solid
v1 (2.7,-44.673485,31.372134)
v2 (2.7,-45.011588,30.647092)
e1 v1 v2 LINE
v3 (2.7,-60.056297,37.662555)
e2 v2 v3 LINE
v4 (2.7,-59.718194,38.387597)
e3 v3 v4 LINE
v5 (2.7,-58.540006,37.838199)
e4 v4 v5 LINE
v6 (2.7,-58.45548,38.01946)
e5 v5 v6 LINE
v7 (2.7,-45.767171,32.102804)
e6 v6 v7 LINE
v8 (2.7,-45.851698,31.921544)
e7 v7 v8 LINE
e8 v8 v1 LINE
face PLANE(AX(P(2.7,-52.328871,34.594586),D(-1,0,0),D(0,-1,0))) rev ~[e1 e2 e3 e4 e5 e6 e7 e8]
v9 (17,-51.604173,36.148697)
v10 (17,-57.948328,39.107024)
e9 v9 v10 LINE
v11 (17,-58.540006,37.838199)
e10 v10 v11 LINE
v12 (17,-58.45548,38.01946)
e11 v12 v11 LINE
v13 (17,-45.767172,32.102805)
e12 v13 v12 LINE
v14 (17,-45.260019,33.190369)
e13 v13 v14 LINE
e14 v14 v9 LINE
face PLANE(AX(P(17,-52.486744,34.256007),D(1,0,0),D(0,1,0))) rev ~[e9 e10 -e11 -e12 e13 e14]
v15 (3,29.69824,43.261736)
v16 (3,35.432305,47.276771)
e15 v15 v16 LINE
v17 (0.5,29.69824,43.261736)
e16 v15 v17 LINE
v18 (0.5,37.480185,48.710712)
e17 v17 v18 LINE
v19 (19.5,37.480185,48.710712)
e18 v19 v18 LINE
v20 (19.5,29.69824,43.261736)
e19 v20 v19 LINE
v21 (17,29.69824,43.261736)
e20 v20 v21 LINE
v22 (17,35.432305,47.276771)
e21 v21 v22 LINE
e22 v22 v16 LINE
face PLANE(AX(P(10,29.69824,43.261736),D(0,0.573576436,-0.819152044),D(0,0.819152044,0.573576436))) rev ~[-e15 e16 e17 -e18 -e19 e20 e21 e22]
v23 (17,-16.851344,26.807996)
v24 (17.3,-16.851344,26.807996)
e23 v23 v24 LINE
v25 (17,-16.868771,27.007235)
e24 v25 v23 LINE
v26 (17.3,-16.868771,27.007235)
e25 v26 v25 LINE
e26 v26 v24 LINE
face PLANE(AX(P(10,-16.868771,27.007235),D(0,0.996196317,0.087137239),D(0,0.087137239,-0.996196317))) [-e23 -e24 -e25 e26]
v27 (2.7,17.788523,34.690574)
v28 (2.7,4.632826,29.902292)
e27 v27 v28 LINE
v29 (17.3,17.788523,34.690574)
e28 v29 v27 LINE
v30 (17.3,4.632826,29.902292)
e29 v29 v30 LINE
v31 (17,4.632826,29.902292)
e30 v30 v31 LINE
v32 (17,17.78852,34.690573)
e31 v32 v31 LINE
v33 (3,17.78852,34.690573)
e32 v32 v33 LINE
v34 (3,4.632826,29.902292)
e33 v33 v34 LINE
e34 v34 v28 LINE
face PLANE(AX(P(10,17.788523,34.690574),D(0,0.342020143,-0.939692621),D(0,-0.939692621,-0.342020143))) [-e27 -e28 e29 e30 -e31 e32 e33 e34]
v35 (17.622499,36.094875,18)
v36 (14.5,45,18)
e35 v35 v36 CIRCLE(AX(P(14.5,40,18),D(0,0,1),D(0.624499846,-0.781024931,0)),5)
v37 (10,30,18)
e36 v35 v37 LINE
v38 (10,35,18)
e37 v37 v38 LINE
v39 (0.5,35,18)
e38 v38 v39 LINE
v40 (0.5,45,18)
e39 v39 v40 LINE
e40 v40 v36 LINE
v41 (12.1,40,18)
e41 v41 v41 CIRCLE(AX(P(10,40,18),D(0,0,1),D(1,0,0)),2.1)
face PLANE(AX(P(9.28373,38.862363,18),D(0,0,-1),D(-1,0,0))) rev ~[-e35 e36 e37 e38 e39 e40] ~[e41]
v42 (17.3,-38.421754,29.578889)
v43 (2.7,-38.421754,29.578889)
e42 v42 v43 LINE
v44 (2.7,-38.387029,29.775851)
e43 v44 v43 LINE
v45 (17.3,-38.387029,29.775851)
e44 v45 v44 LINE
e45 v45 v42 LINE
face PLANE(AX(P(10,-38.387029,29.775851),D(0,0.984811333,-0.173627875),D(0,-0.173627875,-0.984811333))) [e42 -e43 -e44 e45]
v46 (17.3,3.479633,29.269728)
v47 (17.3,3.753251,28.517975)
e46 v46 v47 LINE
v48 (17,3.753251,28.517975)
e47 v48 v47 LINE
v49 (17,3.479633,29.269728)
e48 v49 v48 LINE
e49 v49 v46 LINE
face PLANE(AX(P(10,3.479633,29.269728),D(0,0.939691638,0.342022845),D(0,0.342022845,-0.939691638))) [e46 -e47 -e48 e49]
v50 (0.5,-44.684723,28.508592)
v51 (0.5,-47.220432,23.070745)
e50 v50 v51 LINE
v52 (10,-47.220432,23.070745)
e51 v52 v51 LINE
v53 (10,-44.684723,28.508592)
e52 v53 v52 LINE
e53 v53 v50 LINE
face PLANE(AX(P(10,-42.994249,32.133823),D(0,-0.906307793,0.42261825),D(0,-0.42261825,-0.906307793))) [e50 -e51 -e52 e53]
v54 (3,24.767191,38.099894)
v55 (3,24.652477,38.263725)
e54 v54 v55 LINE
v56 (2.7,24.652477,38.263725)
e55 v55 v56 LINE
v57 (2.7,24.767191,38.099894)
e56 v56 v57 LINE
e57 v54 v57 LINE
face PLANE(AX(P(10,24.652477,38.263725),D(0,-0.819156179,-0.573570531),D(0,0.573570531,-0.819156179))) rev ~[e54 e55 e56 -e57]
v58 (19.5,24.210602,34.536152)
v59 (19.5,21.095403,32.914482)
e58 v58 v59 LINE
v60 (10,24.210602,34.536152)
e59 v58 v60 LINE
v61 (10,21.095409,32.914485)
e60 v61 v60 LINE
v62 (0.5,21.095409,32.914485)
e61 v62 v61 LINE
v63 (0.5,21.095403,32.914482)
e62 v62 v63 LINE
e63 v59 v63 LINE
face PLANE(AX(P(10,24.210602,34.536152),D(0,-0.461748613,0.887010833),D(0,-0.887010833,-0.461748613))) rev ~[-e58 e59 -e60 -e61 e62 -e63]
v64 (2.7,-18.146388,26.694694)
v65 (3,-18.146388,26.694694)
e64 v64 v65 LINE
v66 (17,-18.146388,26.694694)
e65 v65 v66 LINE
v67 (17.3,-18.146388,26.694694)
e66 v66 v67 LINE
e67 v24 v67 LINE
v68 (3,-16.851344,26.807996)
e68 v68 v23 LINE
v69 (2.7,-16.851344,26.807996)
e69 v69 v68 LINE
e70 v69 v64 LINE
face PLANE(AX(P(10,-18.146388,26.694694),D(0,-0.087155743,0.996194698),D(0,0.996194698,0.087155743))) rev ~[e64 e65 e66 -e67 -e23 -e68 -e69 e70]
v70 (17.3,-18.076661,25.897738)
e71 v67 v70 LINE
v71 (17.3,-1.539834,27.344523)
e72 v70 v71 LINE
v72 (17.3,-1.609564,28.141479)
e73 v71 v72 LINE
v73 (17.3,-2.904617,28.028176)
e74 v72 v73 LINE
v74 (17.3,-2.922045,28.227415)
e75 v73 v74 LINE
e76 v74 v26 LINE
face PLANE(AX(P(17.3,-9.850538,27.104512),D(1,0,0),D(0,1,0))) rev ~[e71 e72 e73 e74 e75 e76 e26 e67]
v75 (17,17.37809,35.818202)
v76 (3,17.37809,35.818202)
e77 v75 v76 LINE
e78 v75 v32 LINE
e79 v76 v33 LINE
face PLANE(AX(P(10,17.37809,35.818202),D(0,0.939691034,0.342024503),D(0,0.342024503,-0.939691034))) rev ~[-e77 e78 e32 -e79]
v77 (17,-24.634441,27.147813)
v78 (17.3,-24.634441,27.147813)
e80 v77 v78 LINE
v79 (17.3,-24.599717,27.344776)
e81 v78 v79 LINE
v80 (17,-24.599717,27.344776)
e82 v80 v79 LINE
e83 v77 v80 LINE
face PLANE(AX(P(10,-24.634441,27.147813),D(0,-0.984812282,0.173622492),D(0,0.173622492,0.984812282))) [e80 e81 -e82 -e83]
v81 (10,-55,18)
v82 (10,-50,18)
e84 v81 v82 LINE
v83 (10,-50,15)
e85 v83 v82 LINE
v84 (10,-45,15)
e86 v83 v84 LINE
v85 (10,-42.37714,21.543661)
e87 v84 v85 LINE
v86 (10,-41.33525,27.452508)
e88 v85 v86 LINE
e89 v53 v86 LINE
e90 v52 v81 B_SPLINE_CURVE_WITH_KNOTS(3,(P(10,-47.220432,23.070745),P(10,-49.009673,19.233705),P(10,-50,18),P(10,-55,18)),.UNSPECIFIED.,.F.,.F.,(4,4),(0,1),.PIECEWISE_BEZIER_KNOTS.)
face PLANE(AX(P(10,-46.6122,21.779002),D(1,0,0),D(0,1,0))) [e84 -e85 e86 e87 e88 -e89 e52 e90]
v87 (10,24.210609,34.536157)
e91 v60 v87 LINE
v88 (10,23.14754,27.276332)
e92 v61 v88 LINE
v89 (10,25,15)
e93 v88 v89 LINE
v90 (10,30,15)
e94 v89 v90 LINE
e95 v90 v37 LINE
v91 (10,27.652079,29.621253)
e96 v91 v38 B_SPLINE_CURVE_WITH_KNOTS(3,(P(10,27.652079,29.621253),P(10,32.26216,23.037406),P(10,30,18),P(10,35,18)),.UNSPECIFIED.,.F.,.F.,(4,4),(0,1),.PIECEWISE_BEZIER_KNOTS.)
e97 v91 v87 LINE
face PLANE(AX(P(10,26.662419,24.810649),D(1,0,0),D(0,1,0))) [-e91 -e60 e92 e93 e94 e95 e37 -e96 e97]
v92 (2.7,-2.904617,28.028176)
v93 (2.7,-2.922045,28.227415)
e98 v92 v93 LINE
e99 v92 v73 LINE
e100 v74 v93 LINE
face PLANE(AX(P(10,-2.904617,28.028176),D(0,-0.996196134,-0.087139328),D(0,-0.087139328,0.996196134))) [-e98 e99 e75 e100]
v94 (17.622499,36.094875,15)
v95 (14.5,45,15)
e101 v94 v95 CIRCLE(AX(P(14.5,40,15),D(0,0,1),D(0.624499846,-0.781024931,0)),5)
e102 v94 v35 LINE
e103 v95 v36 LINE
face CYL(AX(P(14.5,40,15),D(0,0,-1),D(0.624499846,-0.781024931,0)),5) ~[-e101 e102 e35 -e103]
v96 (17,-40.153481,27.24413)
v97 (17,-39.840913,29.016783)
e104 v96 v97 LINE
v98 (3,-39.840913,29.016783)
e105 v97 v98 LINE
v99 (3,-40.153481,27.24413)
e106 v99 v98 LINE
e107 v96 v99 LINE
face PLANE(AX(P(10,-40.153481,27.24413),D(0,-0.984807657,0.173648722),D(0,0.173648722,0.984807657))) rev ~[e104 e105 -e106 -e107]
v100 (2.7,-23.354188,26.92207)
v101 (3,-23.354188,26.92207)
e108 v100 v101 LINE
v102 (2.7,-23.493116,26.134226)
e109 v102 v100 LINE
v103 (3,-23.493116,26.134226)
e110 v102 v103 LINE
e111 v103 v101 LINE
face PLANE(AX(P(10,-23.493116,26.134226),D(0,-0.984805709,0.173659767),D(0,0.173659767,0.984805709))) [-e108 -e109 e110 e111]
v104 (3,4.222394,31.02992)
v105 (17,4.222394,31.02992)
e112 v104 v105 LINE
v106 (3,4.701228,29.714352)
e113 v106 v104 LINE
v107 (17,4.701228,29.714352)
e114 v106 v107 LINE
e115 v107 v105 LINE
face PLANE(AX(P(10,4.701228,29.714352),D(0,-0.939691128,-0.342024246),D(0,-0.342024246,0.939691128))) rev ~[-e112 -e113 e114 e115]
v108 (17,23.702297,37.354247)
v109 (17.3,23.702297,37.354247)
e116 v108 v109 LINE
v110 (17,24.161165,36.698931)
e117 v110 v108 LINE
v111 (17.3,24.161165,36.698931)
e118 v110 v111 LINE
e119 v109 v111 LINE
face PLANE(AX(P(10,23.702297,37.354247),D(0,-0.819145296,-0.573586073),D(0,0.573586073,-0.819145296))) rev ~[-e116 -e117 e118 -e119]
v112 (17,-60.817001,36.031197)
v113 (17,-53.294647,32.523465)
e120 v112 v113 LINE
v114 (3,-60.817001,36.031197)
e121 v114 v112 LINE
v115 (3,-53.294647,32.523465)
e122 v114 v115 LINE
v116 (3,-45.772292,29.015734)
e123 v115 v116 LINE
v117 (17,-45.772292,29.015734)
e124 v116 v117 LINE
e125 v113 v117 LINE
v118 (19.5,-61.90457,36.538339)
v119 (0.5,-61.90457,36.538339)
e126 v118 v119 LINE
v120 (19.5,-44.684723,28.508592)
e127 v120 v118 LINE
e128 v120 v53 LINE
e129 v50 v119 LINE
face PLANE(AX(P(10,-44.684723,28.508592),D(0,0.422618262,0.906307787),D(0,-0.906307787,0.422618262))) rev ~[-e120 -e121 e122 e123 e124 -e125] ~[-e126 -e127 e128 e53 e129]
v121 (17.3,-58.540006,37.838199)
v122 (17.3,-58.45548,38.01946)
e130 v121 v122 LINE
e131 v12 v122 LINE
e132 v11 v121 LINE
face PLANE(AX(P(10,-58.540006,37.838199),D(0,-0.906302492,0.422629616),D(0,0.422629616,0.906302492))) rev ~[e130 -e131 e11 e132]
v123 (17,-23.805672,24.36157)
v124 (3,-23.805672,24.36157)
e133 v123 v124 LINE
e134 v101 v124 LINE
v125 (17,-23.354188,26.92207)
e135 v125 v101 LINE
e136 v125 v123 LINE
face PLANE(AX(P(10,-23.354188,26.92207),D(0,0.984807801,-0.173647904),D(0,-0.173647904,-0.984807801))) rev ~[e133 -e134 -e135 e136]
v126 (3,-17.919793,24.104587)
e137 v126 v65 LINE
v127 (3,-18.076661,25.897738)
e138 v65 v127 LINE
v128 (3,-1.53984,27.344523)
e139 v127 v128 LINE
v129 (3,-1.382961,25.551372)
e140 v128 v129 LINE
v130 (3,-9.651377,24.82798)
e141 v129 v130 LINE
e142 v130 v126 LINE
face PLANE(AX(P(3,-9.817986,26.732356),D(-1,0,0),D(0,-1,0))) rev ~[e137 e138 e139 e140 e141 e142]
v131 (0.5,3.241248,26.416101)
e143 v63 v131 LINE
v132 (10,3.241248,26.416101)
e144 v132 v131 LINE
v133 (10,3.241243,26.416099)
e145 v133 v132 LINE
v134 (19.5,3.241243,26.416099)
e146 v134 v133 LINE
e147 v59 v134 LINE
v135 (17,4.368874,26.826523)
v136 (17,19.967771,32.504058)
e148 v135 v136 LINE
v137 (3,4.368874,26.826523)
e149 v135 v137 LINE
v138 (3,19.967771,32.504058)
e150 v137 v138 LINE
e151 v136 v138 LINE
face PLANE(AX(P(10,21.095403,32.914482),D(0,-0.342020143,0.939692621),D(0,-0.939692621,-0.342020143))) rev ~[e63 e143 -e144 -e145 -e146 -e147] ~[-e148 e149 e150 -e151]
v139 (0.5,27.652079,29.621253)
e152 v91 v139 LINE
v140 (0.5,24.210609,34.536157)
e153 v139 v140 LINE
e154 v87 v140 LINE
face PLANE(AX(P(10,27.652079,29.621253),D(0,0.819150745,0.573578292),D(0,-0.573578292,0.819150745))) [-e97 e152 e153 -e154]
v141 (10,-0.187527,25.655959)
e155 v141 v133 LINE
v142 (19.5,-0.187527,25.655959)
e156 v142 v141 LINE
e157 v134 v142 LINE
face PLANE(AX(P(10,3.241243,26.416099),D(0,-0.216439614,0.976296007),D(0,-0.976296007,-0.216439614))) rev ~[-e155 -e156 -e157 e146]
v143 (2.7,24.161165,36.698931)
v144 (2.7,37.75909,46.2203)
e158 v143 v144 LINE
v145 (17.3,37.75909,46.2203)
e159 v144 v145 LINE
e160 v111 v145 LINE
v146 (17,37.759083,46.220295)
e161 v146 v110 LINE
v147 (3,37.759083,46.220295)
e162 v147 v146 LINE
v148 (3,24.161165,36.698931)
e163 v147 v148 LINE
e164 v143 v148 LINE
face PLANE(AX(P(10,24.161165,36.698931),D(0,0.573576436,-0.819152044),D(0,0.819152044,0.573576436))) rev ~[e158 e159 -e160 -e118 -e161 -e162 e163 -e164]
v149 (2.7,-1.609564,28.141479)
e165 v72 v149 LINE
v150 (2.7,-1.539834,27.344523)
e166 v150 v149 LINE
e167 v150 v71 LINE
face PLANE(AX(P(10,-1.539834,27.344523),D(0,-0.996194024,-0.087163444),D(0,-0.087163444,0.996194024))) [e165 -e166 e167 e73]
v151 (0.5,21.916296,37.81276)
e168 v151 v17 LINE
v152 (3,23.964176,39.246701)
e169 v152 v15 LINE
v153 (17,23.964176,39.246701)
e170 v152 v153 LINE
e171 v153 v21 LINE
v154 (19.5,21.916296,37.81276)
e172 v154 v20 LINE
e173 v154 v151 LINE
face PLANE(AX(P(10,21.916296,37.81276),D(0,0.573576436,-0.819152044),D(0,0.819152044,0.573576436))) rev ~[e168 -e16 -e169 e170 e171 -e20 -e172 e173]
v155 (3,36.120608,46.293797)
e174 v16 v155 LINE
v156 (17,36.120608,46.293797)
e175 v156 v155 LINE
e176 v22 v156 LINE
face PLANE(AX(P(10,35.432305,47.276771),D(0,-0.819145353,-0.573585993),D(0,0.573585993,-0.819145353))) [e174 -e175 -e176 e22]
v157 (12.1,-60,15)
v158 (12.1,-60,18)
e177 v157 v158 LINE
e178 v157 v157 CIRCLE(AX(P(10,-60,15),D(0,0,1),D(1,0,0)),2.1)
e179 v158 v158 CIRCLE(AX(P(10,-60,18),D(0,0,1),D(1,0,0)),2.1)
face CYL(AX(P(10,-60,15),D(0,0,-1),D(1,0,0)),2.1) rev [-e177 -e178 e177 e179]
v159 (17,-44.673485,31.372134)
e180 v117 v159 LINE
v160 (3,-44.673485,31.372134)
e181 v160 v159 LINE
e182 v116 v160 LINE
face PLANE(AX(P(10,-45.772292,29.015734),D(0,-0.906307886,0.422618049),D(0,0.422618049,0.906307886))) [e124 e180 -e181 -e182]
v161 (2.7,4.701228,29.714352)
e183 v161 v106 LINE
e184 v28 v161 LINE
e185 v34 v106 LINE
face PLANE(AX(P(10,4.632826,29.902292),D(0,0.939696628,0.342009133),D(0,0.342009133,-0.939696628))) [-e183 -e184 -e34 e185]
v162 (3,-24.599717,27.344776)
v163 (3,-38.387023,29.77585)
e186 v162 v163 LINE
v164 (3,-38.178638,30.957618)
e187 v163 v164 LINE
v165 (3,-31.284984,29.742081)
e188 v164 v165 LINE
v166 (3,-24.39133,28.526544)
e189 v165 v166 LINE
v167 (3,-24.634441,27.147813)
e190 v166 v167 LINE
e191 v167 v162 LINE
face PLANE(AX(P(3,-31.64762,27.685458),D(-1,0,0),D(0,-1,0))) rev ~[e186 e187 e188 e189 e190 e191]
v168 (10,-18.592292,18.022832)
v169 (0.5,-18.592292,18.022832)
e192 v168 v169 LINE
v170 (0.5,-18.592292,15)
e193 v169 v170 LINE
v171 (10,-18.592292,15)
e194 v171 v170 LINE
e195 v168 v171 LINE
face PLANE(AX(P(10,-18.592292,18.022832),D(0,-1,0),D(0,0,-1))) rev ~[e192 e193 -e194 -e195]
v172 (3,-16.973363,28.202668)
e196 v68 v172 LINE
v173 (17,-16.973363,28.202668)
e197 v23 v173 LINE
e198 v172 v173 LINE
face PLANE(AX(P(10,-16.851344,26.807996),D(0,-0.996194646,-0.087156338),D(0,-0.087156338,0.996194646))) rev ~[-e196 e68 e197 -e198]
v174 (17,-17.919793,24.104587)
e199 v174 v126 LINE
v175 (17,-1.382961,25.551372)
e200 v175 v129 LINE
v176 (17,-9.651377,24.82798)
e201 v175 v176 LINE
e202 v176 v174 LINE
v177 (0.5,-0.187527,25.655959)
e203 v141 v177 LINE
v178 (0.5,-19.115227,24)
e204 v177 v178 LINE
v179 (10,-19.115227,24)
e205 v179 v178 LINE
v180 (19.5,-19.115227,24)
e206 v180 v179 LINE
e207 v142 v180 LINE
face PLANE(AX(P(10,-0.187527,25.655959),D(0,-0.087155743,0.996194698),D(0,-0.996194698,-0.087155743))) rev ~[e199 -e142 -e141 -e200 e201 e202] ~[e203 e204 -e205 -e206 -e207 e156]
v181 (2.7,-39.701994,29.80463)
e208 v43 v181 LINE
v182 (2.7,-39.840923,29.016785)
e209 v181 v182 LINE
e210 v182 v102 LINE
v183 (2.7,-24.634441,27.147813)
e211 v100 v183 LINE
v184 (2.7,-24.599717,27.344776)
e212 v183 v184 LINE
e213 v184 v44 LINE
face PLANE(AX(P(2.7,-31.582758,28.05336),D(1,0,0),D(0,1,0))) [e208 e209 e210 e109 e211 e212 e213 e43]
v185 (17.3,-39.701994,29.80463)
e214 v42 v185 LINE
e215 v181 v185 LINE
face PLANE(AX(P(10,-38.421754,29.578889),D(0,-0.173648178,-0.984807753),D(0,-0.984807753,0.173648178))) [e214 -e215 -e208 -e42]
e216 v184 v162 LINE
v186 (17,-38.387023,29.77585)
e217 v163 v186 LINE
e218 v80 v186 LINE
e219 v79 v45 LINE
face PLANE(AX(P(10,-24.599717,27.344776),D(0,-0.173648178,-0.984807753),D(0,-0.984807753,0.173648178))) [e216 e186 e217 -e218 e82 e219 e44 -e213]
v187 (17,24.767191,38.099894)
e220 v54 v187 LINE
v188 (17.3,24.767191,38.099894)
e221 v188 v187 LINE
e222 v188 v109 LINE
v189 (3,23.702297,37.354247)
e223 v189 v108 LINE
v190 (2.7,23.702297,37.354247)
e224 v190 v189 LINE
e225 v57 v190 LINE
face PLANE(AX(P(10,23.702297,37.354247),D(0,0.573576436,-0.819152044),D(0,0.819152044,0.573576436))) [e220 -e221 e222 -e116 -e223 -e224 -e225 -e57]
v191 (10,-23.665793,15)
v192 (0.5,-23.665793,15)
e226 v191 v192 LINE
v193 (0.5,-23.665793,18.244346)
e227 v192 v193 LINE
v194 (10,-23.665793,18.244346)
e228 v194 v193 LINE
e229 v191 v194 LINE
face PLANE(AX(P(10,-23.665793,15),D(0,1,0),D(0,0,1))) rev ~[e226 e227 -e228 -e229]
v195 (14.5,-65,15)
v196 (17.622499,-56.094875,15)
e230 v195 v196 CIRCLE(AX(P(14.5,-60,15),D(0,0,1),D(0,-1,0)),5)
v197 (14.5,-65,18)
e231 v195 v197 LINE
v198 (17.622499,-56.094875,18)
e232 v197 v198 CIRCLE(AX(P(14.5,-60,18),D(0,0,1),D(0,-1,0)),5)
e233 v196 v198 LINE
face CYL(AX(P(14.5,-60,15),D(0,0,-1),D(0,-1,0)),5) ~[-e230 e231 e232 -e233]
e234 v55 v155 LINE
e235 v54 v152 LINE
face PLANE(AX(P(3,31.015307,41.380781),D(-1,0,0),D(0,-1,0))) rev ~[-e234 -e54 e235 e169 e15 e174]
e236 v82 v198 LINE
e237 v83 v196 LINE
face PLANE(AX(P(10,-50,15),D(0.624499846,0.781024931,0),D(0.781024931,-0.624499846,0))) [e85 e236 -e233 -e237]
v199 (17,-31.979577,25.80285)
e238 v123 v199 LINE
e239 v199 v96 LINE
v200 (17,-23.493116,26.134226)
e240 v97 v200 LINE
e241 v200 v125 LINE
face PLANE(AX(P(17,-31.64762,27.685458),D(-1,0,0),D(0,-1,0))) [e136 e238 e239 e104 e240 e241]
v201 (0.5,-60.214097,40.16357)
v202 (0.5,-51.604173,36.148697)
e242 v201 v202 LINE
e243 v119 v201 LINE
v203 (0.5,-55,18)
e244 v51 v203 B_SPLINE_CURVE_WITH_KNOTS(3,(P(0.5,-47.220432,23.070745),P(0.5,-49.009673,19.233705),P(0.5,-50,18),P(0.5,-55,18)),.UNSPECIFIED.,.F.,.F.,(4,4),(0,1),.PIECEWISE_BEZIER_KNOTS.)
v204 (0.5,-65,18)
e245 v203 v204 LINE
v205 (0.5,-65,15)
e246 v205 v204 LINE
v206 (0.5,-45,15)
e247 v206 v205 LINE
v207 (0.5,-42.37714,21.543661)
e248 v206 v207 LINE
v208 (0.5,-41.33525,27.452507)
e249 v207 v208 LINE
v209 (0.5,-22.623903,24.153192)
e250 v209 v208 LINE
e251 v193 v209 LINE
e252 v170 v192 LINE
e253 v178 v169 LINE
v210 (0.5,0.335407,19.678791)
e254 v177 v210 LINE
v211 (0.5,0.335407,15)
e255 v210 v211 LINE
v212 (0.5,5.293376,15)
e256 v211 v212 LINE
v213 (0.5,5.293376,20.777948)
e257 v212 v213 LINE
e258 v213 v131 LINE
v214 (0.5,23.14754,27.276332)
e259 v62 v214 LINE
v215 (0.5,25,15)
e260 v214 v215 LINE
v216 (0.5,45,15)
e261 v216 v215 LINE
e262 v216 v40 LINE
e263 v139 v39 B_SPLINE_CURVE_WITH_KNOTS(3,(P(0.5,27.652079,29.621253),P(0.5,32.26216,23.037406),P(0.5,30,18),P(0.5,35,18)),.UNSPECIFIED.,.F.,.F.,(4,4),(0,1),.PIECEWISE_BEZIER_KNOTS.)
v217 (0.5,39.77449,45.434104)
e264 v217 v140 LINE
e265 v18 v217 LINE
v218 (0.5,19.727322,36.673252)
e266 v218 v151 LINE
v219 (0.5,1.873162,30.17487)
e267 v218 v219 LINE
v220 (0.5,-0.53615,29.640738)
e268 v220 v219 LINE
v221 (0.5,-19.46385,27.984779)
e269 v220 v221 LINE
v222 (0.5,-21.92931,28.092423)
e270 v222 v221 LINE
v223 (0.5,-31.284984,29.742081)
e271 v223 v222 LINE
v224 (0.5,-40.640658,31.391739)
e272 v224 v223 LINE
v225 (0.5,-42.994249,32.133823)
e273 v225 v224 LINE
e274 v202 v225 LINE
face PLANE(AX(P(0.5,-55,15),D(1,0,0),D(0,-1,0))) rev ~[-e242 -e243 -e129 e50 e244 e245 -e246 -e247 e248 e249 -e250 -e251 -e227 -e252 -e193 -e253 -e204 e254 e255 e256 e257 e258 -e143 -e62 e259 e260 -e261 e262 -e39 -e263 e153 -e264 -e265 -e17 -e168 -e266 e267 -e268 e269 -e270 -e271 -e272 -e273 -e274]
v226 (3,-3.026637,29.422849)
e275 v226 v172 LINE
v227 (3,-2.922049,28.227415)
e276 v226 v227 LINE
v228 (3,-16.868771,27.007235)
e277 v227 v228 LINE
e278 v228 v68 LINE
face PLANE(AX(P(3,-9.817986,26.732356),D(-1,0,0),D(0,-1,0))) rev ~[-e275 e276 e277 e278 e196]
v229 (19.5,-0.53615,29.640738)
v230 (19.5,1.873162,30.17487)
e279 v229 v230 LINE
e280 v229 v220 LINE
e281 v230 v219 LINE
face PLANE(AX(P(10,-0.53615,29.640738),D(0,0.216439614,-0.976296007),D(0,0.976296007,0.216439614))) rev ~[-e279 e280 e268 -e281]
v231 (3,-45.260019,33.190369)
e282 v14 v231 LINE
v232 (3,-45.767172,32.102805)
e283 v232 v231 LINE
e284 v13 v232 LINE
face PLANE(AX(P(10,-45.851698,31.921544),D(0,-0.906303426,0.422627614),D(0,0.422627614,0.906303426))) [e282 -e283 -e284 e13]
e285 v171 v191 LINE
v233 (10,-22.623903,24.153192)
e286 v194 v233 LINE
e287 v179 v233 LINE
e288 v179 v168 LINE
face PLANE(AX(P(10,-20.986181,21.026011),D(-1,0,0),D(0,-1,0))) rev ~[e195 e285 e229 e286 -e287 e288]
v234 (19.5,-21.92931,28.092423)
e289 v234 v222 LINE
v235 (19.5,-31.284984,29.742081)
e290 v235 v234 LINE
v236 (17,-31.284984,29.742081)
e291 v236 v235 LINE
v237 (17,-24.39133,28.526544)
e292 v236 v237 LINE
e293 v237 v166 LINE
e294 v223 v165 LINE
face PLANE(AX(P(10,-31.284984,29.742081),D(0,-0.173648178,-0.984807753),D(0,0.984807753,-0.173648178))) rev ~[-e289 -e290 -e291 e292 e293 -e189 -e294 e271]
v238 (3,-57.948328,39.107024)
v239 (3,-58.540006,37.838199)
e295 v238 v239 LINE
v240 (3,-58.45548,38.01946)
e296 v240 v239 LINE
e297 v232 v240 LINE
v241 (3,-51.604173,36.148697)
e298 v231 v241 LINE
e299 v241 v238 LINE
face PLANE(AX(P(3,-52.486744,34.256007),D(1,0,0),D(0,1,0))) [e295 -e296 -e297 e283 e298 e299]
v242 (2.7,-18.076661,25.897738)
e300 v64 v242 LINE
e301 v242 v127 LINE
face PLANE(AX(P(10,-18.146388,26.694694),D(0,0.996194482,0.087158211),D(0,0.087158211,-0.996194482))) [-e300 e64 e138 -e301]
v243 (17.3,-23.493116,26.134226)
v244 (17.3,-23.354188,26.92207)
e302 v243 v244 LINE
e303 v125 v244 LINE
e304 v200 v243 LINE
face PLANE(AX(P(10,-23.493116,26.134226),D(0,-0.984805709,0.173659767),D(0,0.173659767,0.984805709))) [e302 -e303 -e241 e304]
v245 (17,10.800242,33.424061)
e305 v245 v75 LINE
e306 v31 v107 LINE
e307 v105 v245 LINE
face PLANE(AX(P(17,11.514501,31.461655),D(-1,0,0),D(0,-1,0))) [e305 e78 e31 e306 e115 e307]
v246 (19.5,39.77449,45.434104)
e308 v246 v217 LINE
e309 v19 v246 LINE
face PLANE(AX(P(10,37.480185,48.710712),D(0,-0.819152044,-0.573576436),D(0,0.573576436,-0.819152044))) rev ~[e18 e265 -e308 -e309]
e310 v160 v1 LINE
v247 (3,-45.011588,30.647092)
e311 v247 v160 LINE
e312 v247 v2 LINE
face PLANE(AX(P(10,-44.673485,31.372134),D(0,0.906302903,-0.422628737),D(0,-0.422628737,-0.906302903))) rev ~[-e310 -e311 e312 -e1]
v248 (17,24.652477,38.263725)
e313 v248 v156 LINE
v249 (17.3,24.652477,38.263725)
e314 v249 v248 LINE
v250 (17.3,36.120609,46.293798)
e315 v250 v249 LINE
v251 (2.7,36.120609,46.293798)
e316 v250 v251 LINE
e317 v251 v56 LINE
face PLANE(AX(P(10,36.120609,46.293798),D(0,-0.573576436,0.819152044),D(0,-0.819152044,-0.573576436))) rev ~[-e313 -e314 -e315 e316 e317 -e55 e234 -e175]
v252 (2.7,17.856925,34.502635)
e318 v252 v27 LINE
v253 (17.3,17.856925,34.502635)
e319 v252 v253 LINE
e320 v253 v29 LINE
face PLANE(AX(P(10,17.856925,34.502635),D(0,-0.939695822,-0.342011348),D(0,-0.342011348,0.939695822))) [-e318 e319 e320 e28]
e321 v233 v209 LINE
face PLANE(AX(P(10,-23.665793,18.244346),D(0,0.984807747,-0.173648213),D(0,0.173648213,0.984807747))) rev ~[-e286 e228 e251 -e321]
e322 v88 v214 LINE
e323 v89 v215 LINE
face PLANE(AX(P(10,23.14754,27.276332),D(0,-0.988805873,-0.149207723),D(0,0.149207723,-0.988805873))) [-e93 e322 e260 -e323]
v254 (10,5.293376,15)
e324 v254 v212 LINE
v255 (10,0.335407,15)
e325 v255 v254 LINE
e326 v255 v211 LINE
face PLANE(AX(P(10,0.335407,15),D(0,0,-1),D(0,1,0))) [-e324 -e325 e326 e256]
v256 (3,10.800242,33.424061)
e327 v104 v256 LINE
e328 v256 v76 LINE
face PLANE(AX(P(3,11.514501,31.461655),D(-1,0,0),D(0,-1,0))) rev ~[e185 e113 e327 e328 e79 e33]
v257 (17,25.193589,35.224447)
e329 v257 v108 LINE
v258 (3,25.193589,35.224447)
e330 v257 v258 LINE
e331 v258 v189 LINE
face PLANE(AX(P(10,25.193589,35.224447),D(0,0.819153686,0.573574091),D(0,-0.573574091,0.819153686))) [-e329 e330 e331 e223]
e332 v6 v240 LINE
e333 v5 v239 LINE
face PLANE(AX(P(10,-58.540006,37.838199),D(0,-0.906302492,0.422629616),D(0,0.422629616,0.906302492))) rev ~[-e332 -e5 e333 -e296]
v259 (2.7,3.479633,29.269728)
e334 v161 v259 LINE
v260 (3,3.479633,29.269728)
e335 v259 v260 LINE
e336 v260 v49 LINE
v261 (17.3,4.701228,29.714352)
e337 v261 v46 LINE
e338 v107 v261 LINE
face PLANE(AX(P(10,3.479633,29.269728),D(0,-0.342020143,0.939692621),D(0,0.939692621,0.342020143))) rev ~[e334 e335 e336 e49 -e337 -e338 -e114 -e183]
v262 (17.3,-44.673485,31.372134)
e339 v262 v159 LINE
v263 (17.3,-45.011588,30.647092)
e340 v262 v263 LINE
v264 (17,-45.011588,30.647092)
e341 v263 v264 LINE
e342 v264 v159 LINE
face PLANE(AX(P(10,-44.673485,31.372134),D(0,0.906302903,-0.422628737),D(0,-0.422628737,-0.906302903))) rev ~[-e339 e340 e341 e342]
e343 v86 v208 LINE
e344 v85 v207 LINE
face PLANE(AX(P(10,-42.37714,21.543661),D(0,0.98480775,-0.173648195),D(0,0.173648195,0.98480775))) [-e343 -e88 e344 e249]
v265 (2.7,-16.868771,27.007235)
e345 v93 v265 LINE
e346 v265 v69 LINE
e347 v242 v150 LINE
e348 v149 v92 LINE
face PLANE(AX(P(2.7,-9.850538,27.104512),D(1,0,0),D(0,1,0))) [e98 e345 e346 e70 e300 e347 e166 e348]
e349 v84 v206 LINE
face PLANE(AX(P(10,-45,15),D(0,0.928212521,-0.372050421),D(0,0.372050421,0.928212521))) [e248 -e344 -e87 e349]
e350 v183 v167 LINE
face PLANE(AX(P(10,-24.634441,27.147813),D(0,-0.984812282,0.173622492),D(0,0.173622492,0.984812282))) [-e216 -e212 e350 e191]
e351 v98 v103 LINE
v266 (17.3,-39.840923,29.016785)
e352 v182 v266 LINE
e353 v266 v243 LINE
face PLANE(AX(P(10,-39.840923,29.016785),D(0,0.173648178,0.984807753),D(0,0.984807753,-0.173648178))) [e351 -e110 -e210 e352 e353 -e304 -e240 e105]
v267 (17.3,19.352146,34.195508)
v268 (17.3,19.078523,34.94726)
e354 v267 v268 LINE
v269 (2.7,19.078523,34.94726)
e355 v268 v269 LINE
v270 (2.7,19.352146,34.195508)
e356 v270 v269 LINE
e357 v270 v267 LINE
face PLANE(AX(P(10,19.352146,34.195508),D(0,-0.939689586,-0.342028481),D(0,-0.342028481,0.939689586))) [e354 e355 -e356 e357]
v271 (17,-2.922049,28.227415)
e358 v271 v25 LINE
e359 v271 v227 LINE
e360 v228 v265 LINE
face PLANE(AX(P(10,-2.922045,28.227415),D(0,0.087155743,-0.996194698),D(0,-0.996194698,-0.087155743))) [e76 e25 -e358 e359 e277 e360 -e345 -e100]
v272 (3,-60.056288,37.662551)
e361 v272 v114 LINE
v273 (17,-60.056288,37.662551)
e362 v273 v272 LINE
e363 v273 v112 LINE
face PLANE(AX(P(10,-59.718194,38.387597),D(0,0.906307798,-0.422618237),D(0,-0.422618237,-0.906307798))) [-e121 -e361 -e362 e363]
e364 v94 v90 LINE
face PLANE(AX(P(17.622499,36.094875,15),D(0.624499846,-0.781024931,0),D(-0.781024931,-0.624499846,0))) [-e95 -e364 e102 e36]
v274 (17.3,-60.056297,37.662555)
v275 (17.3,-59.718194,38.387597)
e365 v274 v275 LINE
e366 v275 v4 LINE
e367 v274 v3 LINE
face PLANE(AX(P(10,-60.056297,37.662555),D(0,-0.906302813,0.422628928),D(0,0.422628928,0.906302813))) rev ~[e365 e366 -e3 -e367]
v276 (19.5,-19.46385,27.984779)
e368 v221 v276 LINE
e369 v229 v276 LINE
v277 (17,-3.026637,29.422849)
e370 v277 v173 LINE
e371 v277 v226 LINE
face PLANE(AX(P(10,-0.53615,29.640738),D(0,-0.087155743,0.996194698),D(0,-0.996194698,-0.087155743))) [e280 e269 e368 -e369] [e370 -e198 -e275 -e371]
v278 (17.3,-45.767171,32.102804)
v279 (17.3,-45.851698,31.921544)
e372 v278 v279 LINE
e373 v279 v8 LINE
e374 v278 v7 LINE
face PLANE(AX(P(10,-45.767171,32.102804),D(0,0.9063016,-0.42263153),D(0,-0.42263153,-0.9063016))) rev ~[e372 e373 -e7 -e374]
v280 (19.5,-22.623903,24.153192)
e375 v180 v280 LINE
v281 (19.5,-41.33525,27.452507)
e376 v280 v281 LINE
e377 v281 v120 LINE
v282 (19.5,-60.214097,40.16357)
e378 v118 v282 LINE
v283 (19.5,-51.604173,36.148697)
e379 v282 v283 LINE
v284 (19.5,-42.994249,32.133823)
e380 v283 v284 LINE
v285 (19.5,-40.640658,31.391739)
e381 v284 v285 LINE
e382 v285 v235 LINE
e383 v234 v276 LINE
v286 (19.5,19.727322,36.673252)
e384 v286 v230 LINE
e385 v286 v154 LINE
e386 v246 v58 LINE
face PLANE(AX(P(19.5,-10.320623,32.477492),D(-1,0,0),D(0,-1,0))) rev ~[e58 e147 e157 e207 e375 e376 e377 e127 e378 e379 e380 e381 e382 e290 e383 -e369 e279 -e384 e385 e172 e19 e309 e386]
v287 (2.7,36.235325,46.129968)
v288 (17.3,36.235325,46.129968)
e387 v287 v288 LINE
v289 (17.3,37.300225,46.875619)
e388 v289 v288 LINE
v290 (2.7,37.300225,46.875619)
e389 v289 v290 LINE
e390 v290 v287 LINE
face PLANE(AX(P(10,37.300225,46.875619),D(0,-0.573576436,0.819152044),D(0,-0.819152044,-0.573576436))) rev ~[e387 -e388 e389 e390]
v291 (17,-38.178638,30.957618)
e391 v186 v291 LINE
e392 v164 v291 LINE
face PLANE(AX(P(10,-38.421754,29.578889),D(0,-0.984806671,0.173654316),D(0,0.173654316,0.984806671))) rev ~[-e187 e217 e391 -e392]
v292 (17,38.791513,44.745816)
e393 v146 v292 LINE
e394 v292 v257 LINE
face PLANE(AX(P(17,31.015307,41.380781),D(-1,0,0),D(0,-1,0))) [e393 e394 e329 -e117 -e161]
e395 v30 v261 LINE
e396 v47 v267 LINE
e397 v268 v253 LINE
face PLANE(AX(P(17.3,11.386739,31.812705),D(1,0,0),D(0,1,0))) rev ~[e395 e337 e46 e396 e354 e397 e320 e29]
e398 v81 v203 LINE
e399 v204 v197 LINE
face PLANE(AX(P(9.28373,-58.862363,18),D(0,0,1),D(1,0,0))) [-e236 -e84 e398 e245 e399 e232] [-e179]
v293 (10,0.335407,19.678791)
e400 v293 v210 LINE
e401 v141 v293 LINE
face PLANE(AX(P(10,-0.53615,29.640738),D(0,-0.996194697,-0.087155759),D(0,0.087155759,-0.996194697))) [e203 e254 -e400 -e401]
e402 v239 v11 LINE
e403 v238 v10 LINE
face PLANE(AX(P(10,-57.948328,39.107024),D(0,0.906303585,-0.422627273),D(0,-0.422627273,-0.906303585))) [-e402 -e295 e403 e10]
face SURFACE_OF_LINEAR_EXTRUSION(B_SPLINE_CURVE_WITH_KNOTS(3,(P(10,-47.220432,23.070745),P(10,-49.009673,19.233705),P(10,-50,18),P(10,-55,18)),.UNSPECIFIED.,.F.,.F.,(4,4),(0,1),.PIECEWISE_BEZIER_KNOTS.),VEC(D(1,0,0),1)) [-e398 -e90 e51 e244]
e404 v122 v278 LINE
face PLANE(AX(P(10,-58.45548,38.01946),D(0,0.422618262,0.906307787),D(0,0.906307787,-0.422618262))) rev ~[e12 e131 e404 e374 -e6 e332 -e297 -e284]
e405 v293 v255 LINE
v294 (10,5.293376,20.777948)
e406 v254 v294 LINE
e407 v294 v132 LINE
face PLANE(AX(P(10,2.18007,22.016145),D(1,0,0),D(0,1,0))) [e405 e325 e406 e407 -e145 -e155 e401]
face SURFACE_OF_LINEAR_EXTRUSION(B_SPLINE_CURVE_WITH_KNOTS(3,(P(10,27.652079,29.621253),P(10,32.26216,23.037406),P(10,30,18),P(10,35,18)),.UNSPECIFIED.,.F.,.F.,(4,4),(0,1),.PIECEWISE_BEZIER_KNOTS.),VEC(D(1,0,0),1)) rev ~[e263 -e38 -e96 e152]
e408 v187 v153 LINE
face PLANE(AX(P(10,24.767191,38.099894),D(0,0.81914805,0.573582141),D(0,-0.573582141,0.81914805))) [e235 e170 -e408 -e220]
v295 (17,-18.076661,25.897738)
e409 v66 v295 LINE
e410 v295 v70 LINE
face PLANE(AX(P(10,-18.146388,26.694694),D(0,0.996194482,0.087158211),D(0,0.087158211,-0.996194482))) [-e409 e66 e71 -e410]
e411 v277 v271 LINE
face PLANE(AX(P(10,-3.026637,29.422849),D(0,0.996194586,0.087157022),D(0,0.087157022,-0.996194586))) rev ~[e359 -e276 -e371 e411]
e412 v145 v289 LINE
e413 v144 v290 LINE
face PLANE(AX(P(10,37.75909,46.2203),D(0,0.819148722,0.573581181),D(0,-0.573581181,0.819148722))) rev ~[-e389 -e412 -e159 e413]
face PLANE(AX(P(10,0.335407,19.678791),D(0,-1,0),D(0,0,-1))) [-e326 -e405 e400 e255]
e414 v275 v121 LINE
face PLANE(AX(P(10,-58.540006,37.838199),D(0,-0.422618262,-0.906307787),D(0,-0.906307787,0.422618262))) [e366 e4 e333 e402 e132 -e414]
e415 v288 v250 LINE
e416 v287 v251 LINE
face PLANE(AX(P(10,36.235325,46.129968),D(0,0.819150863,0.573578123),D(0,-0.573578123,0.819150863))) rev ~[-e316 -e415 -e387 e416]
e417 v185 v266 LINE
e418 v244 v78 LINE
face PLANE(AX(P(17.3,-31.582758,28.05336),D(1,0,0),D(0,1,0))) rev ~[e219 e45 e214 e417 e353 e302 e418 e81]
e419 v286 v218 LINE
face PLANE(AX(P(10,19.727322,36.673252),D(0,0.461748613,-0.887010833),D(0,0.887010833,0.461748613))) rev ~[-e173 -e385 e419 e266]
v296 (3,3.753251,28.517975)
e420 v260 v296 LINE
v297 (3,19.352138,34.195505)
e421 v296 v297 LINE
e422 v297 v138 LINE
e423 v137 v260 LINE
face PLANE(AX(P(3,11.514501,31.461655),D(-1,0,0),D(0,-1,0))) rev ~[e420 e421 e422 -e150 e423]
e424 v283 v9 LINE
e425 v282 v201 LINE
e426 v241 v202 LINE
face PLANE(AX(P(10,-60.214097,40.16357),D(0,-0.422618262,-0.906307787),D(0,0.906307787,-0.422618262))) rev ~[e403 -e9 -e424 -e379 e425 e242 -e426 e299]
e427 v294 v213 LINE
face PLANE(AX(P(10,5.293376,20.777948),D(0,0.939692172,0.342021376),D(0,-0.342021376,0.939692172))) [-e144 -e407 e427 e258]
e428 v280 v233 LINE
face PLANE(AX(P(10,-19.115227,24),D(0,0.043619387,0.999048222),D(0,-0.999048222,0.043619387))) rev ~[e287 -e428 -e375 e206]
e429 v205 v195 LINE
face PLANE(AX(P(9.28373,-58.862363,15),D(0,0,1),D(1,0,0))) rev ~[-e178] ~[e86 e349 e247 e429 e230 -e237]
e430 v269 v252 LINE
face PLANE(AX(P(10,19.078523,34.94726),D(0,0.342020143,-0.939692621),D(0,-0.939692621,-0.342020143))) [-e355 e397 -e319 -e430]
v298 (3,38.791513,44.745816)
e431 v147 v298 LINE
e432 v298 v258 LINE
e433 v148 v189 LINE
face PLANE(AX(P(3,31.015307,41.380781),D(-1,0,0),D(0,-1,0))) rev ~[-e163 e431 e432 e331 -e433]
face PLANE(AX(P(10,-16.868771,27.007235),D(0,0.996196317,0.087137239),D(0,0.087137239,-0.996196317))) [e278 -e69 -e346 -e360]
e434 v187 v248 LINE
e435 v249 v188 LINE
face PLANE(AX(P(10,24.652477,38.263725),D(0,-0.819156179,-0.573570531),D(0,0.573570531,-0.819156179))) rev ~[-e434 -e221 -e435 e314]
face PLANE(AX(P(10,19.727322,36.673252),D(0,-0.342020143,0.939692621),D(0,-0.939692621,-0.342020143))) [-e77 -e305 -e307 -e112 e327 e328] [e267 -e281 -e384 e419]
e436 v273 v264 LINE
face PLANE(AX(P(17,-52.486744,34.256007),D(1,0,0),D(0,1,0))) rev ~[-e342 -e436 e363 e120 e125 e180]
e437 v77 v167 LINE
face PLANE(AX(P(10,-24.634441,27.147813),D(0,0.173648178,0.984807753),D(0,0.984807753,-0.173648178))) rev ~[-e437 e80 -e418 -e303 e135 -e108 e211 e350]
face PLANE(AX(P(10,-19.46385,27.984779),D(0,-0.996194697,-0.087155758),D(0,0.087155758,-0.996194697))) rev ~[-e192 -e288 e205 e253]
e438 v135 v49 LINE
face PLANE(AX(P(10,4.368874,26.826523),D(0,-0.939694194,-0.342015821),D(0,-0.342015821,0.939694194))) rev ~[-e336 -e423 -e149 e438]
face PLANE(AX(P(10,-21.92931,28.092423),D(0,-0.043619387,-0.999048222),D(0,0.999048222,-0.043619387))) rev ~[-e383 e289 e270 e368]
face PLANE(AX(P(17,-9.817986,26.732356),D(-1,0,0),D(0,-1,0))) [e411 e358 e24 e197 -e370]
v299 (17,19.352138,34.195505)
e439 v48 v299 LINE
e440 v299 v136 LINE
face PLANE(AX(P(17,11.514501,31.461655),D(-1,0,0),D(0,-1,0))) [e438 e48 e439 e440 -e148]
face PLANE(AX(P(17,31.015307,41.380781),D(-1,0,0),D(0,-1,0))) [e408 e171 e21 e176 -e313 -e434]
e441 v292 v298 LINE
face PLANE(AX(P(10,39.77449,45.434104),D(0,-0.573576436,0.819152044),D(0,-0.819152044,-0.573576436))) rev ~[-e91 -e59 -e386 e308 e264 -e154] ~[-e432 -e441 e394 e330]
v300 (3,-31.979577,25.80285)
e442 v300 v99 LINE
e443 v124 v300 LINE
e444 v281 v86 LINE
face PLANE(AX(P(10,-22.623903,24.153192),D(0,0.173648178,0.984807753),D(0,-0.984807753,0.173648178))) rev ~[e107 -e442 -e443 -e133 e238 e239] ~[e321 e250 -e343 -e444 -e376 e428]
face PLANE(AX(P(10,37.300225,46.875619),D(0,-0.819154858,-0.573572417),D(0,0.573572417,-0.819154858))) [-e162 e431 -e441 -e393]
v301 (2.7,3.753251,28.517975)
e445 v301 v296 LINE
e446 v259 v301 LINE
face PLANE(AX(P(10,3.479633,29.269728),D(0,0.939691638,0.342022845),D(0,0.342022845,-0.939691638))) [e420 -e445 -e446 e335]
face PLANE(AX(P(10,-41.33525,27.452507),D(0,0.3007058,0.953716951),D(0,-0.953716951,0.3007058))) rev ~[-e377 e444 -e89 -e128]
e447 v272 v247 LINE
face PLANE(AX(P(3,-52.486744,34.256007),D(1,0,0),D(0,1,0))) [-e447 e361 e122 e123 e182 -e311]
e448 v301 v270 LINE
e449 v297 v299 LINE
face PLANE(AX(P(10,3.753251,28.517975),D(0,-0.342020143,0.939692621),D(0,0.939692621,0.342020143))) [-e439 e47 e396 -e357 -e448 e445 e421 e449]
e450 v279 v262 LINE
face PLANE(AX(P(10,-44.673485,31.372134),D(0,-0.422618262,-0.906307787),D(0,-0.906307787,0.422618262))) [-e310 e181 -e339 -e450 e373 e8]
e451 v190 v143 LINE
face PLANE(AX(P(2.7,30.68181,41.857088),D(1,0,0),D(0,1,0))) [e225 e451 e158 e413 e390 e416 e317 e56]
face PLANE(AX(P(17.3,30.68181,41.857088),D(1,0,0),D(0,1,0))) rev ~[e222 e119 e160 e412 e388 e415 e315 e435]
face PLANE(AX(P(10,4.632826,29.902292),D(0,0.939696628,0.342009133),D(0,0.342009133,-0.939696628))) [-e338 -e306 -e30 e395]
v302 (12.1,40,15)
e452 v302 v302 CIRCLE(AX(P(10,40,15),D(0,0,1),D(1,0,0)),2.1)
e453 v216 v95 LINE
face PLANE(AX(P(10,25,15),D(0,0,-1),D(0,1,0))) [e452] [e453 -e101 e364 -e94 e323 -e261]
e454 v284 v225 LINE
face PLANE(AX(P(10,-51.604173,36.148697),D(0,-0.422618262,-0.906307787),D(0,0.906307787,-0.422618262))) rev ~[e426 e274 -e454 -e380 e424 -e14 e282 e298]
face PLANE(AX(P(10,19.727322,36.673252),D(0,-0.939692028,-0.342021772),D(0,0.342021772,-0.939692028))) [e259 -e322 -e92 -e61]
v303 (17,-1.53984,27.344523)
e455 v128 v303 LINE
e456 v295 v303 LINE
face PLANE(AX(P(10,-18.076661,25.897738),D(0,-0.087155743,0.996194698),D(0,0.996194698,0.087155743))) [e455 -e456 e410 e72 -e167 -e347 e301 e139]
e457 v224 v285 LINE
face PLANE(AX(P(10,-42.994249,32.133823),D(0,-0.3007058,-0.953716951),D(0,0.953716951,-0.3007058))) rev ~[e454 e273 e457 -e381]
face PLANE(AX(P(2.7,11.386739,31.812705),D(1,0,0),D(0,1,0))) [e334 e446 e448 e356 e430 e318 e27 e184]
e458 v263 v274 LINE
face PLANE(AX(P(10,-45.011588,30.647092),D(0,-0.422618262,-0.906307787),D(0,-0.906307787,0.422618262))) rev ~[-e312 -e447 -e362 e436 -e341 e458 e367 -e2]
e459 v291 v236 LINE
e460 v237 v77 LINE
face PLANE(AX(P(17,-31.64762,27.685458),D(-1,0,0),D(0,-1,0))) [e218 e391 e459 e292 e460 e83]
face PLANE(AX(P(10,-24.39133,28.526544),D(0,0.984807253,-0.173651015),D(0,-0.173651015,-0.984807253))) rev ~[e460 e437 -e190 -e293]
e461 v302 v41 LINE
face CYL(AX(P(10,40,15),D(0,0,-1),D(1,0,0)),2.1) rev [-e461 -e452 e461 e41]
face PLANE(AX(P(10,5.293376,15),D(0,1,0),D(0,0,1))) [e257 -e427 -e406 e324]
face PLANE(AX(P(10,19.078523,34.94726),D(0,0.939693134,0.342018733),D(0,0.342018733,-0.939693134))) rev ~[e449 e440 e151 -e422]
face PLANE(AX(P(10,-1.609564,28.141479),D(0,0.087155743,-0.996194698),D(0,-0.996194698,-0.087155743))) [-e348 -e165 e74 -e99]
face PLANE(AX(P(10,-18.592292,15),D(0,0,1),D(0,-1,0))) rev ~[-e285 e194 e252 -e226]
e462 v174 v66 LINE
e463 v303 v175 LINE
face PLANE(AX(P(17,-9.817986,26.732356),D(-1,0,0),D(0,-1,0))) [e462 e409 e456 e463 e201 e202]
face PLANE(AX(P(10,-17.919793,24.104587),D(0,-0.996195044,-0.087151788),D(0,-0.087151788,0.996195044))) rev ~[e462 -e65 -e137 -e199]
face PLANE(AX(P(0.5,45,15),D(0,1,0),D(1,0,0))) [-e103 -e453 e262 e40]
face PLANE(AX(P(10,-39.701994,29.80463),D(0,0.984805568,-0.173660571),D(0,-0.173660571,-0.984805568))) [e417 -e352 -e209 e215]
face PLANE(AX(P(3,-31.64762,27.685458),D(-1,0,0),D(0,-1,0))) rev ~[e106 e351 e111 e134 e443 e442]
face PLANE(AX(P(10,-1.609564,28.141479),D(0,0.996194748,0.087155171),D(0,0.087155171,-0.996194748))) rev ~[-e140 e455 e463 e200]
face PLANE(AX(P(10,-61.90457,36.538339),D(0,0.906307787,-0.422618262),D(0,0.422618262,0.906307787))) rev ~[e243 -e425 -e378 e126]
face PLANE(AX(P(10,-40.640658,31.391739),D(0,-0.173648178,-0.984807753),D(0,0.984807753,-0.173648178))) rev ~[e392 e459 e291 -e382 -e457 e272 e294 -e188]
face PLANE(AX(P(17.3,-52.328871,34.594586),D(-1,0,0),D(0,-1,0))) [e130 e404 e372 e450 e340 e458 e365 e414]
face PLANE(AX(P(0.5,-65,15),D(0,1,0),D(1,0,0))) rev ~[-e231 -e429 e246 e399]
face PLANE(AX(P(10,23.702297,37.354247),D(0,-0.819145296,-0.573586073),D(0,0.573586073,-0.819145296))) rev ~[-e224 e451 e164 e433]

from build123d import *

# Parameters (mm, degrees)
PAD_DEPTH       = 9.5
PAD001_DEPTH    = 9.5
SKETCH002_R     = 2.1
PAD002_DEPTH    = 3
POCKET_DEPTH    = 7
POCKET001_DEPTH = 7.3


with BuildPart() as part:
    # Sketch → Pad (new body, symmetric)
    with BuildSketch(Plane.YZ):
        Polygon((-9.4638496319, 12.9847787924), (0, 13.8127583485), (9.4638496319, 14.6407379046), (11.8731622478, 15.1748696522), (20.8002421453, 18.4240610138), (29.7273220428, 21.6732523754), (31.9162958532, 22.8127600156), (39.698240274, 28.2617361609), (47.4801846947, 33.7107123063), (49.7744904401, 30.4341041291), (34.2106015986, 19.5361518385), (31.0954026161, 17.9144818922), (13.2412428211, 11.416099169), (9.8124726029, 10.6559591122), (-9.1152266609, 9), (-12.6239030908, 9.1531921213), (-31.335250398, 12.452507497), (-34.6847225392, 13.5085920065), (-51.9045704929, 21.5383389795), (-50.2140974459, 25.1635701277), (-41.604173469, 21.1486966411), (-32.9942494922, 17.1338231546), (-30.6406576873, 16.391738509), (-21.2849840337, 14.7420808212), (-11.9293103801, 13.0924231333), align=None)
    extrude(amount=PAD_DEPTH, both=True)

    # Sketch001 → Pad001 (join)
    with BuildSketch(Plane.YZ):
        with BuildLine():
            Line((-32.3771396349, 6.543661009), (-30.6406576873, 16.391738509))
            Line((-30.6406576873, 16.391738509), (-32.9942494922, 17.1338231546))
            Line((-32.9942494922, 17.1338231546), (-37.2204319887, 8.0707452278))
            add(Edge.make_bspline(
                [(-37.2204319887, 8.0707452278), (-39.0096730727, 4.2337052069), (-40, 3), (-45, 3)],
                knots=[0, 0, 0, 0, 1, 1, 1, 1], degree=3))
            Line((-45, 3), (-45, 0))
            Line((-45, 0), (-35, 0))
            Line((-35, 0), (-32.3771396349, 6.543661009))
        make_face()
        Polygon((-13.6657925125, 3.2443456659), (-11.9293103801, 13.0924231333), (-9.4638496319, 12.9847787924), (-8.5922920505, 3.0228318249), (-8.5922920505, 0), (-13.6657925125, 0), align=None)
        Polygon((15.2933760081, 5.777947931), (11.8731622478, 15.1748696522), (9.4638496319, 14.6407379046), (10.3354072218, 4.6787909379), (10.3354072218, 0), (15.2933760081, 0), align=None)
        with BuildLine():
            Line((37.6520787719, 14.6212525652), (31.9162958532, 22.8127600156))
            Line((31.9162958532, 22.8127600156), (29.7273220428, 21.6732523754))
            Line((29.7273220428, 21.6732523754), (33.1475397634, 12.2763320956))
            Line((33.1475397634, 12.2763320956), (35, 0))
            Line((35, 0), (45, 0))
            Line((45, 0), (45, 2.9999999999))
            add(Edge.make_bspline(
                [(37.6520787719, 14.6212525652), (42.2621602037, 8.0374056988), (40, 2.999999954), (45, 2.9999999999)],
                knots=[0, 0, 0, 0, 1, 1, 1, 1], degree=3))
        make_face()
    extrude(amount=-PAD001_DEPTH)

    # Sketch002 → Pad002 (join)
    with BuildSketch(Plane.XY):
        with BuildLine():
            Line((0, -45), (-9.5, -45))
            Line((-9.5, -45), (-9.5, -55))
            Line((-9.5, -55), (4.5, -55))
            ThreePointArc((4.5, -55), (9.218348401, -51.6544450327), (7.6224992299, -46.0948753465))
            Line((0, -40), (7.6224992299, -46.0948753465))
            Line((0, -45), (0, -40))
        make_face()
        with Locations((0, -50)):
            Circle(SKETCH002_R, mode=Mode.SUBTRACT)
        with BuildLine():
            Line((0, 40), (0, 45))
            Line((0, 45), (-9.5, 45))
            Line((-9.5, 45), (-9.5, 55))
            Line((-9.5, 55), (4.5, 55))
            ThreePointArc((7.6224992299, 46.0948753465), (9.218348401, 51.6544450327), (4.5, 55))
            Line((7.6224992299, 46.0948753465), (0, 40))
        make_face()
        with Locations((0, 50)):
            Circle(SKETCH002_R, mode=Mode.SUBTRACT)
    extrude(amount=PAD002_DEPTH)

    # Sketch003 → Pocket (cut, symmetric)
    with BuildSketch(Plane.YZ):
        Polygon((-41.604173469, 21.1486966411), (-47.9483279783, 24.1070244733), (-48.540006161, 22.8381994546), (-49.718193731, 23.3875973412), (-50.8170011484, 21.0311970654), (-43.294646516, 17.523465493), (-35.7722918836, 14.0157339205), (-34.6734849555, 16.3721344244), (-35.85169762, 16.9215440128), (-35.2600189598, 18.190368809), align=None)
        Polygon((-28.1786383048, 15.9576180648), (-21.2849840337, 14.7420808212), (-14.3913297626, 13.5265435775), (-14.6344411843, 12.1478134238), (-13.3541878452, 11.922070218), (-13.8056723944, 9.3615699345), (-21.9795767444, 10.8028498091), (-30.1534810944, 12.2441296838), (-29.7019944172, 14.804629592), (-28.4217543468, 14.5788887258), align=None)
        Polygon((-6.9733628866, 13.2026681492), (0, 13.8127583484), (6.9733628866, 14.4228485476), (7.095382718, 13.0281761271), (8.3904355218, 13.141478566), (8.6170389651, 10.5513722208), (0.348622971, 9.8279795561), (-7.9197930232, 9.1045868913), (-8.1463876723, 11.6946940059), (-6.8513440135, 11.8079956448), align=None)
        Polygon((14.2223937998, 16.0299200105), (20.8002421453, 18.4240610138), (27.3780904908, 20.818202017), (27.8569247953, 19.5026345695), (29.078522765, 19.9472598688), (29.9677714711, 17.5040577202), (22.1683227186, 14.6652905306), (14.3688739661, 11.826523341), (13.4796328313, 14.2697282453), (14.7012277436, 14.7143524317), align=None)
        Polygon((33.964175964, 24.2467011065), (39.698240274, 28.2617361609), (45.432304584, 32.2767712154), (46.2353249737, 31.1299677214), (47.3002248466, 31.8756186398), (48.7915131317, 29.7458160079), (42.5661276004, 24.1659795418), (35.1935891965, 20.2244471644), (33.7022965595, 22.3542467491), (34.7671909619, 23.0998938371), align=None)
    extrude(amount=POCKET_DEPTH, both=True, mode=Mode.SUBTRACT)

    # Sketch004 → Pocket001 (cut, symmetric)
    with BuildSketch(Plane.YZ):
        Polygon((-48.4554802378, 23.0194599531), (-35.767171314, 17.1028043329), (-35.85169762, 16.9215440128), (-34.6734849555, 16.3721344244), (-35.0115879447, 15.6470921024), (-50.0562968731, 22.6625550904), (-49.718193731, 23.3875973412), (-48.540006161, 22.8381994546), align=None)
        Polygon((-29.7019944172, 14.804629592), (-29.8409228744, 14.0167851379), (-13.4931156588, 11.1342256504), (-13.3541878452, 11.922070218), (-14.6344411843, 12.1478134238), (-14.5997166858, 12.3447758803), (-28.3870287718, 14.7758509925), (-28.4217543468, 14.5788887258), align=None)
        Polygon((-6.8687714614, 12.0072349082), (-6.8513440135, 11.8079956448), (-8.1463876723, 11.6946940059), (-8.0766611038, 10.8977384201), (8.4601662766, 12.3445233466), (8.3904355218, 13.141478566), (7.095382718, 13.0281761271), (7.0779548525, 13.2274153539), align=None)
        Polygon((14.6328259169, 14.9022917574), (14.7012277436, 14.7143524317), (13.4796328313, 14.2697282453), (13.753251107, 13.5179749352), (29.3521455498, 19.1955081999), (29.078522765, 19.9472598688), (27.8569247953, 19.5026345695), (27.7885225257, 19.690573734), align=None)
        Polygon((34.7671909619, 23.0998938371), (33.7022965595, 22.3542467491), (34.1611654182, 21.698930512), (47.7590897918, 31.2202996624), (47.3002248466, 31.8756186398), (46.2353249737, 31.1299677214), (46.1206093491, 31.2937978941), (34.6524768556, 23.2637250729), align=None)
    extrude(amount=POCKET001_DEPTH, both=True, mode=Mode.SUBTRACT)


with BuildPart() as part_1:
    # Body placement: moved
    add(part.part.moved(Location((10, -10, 15))))


solid = part_1.part
